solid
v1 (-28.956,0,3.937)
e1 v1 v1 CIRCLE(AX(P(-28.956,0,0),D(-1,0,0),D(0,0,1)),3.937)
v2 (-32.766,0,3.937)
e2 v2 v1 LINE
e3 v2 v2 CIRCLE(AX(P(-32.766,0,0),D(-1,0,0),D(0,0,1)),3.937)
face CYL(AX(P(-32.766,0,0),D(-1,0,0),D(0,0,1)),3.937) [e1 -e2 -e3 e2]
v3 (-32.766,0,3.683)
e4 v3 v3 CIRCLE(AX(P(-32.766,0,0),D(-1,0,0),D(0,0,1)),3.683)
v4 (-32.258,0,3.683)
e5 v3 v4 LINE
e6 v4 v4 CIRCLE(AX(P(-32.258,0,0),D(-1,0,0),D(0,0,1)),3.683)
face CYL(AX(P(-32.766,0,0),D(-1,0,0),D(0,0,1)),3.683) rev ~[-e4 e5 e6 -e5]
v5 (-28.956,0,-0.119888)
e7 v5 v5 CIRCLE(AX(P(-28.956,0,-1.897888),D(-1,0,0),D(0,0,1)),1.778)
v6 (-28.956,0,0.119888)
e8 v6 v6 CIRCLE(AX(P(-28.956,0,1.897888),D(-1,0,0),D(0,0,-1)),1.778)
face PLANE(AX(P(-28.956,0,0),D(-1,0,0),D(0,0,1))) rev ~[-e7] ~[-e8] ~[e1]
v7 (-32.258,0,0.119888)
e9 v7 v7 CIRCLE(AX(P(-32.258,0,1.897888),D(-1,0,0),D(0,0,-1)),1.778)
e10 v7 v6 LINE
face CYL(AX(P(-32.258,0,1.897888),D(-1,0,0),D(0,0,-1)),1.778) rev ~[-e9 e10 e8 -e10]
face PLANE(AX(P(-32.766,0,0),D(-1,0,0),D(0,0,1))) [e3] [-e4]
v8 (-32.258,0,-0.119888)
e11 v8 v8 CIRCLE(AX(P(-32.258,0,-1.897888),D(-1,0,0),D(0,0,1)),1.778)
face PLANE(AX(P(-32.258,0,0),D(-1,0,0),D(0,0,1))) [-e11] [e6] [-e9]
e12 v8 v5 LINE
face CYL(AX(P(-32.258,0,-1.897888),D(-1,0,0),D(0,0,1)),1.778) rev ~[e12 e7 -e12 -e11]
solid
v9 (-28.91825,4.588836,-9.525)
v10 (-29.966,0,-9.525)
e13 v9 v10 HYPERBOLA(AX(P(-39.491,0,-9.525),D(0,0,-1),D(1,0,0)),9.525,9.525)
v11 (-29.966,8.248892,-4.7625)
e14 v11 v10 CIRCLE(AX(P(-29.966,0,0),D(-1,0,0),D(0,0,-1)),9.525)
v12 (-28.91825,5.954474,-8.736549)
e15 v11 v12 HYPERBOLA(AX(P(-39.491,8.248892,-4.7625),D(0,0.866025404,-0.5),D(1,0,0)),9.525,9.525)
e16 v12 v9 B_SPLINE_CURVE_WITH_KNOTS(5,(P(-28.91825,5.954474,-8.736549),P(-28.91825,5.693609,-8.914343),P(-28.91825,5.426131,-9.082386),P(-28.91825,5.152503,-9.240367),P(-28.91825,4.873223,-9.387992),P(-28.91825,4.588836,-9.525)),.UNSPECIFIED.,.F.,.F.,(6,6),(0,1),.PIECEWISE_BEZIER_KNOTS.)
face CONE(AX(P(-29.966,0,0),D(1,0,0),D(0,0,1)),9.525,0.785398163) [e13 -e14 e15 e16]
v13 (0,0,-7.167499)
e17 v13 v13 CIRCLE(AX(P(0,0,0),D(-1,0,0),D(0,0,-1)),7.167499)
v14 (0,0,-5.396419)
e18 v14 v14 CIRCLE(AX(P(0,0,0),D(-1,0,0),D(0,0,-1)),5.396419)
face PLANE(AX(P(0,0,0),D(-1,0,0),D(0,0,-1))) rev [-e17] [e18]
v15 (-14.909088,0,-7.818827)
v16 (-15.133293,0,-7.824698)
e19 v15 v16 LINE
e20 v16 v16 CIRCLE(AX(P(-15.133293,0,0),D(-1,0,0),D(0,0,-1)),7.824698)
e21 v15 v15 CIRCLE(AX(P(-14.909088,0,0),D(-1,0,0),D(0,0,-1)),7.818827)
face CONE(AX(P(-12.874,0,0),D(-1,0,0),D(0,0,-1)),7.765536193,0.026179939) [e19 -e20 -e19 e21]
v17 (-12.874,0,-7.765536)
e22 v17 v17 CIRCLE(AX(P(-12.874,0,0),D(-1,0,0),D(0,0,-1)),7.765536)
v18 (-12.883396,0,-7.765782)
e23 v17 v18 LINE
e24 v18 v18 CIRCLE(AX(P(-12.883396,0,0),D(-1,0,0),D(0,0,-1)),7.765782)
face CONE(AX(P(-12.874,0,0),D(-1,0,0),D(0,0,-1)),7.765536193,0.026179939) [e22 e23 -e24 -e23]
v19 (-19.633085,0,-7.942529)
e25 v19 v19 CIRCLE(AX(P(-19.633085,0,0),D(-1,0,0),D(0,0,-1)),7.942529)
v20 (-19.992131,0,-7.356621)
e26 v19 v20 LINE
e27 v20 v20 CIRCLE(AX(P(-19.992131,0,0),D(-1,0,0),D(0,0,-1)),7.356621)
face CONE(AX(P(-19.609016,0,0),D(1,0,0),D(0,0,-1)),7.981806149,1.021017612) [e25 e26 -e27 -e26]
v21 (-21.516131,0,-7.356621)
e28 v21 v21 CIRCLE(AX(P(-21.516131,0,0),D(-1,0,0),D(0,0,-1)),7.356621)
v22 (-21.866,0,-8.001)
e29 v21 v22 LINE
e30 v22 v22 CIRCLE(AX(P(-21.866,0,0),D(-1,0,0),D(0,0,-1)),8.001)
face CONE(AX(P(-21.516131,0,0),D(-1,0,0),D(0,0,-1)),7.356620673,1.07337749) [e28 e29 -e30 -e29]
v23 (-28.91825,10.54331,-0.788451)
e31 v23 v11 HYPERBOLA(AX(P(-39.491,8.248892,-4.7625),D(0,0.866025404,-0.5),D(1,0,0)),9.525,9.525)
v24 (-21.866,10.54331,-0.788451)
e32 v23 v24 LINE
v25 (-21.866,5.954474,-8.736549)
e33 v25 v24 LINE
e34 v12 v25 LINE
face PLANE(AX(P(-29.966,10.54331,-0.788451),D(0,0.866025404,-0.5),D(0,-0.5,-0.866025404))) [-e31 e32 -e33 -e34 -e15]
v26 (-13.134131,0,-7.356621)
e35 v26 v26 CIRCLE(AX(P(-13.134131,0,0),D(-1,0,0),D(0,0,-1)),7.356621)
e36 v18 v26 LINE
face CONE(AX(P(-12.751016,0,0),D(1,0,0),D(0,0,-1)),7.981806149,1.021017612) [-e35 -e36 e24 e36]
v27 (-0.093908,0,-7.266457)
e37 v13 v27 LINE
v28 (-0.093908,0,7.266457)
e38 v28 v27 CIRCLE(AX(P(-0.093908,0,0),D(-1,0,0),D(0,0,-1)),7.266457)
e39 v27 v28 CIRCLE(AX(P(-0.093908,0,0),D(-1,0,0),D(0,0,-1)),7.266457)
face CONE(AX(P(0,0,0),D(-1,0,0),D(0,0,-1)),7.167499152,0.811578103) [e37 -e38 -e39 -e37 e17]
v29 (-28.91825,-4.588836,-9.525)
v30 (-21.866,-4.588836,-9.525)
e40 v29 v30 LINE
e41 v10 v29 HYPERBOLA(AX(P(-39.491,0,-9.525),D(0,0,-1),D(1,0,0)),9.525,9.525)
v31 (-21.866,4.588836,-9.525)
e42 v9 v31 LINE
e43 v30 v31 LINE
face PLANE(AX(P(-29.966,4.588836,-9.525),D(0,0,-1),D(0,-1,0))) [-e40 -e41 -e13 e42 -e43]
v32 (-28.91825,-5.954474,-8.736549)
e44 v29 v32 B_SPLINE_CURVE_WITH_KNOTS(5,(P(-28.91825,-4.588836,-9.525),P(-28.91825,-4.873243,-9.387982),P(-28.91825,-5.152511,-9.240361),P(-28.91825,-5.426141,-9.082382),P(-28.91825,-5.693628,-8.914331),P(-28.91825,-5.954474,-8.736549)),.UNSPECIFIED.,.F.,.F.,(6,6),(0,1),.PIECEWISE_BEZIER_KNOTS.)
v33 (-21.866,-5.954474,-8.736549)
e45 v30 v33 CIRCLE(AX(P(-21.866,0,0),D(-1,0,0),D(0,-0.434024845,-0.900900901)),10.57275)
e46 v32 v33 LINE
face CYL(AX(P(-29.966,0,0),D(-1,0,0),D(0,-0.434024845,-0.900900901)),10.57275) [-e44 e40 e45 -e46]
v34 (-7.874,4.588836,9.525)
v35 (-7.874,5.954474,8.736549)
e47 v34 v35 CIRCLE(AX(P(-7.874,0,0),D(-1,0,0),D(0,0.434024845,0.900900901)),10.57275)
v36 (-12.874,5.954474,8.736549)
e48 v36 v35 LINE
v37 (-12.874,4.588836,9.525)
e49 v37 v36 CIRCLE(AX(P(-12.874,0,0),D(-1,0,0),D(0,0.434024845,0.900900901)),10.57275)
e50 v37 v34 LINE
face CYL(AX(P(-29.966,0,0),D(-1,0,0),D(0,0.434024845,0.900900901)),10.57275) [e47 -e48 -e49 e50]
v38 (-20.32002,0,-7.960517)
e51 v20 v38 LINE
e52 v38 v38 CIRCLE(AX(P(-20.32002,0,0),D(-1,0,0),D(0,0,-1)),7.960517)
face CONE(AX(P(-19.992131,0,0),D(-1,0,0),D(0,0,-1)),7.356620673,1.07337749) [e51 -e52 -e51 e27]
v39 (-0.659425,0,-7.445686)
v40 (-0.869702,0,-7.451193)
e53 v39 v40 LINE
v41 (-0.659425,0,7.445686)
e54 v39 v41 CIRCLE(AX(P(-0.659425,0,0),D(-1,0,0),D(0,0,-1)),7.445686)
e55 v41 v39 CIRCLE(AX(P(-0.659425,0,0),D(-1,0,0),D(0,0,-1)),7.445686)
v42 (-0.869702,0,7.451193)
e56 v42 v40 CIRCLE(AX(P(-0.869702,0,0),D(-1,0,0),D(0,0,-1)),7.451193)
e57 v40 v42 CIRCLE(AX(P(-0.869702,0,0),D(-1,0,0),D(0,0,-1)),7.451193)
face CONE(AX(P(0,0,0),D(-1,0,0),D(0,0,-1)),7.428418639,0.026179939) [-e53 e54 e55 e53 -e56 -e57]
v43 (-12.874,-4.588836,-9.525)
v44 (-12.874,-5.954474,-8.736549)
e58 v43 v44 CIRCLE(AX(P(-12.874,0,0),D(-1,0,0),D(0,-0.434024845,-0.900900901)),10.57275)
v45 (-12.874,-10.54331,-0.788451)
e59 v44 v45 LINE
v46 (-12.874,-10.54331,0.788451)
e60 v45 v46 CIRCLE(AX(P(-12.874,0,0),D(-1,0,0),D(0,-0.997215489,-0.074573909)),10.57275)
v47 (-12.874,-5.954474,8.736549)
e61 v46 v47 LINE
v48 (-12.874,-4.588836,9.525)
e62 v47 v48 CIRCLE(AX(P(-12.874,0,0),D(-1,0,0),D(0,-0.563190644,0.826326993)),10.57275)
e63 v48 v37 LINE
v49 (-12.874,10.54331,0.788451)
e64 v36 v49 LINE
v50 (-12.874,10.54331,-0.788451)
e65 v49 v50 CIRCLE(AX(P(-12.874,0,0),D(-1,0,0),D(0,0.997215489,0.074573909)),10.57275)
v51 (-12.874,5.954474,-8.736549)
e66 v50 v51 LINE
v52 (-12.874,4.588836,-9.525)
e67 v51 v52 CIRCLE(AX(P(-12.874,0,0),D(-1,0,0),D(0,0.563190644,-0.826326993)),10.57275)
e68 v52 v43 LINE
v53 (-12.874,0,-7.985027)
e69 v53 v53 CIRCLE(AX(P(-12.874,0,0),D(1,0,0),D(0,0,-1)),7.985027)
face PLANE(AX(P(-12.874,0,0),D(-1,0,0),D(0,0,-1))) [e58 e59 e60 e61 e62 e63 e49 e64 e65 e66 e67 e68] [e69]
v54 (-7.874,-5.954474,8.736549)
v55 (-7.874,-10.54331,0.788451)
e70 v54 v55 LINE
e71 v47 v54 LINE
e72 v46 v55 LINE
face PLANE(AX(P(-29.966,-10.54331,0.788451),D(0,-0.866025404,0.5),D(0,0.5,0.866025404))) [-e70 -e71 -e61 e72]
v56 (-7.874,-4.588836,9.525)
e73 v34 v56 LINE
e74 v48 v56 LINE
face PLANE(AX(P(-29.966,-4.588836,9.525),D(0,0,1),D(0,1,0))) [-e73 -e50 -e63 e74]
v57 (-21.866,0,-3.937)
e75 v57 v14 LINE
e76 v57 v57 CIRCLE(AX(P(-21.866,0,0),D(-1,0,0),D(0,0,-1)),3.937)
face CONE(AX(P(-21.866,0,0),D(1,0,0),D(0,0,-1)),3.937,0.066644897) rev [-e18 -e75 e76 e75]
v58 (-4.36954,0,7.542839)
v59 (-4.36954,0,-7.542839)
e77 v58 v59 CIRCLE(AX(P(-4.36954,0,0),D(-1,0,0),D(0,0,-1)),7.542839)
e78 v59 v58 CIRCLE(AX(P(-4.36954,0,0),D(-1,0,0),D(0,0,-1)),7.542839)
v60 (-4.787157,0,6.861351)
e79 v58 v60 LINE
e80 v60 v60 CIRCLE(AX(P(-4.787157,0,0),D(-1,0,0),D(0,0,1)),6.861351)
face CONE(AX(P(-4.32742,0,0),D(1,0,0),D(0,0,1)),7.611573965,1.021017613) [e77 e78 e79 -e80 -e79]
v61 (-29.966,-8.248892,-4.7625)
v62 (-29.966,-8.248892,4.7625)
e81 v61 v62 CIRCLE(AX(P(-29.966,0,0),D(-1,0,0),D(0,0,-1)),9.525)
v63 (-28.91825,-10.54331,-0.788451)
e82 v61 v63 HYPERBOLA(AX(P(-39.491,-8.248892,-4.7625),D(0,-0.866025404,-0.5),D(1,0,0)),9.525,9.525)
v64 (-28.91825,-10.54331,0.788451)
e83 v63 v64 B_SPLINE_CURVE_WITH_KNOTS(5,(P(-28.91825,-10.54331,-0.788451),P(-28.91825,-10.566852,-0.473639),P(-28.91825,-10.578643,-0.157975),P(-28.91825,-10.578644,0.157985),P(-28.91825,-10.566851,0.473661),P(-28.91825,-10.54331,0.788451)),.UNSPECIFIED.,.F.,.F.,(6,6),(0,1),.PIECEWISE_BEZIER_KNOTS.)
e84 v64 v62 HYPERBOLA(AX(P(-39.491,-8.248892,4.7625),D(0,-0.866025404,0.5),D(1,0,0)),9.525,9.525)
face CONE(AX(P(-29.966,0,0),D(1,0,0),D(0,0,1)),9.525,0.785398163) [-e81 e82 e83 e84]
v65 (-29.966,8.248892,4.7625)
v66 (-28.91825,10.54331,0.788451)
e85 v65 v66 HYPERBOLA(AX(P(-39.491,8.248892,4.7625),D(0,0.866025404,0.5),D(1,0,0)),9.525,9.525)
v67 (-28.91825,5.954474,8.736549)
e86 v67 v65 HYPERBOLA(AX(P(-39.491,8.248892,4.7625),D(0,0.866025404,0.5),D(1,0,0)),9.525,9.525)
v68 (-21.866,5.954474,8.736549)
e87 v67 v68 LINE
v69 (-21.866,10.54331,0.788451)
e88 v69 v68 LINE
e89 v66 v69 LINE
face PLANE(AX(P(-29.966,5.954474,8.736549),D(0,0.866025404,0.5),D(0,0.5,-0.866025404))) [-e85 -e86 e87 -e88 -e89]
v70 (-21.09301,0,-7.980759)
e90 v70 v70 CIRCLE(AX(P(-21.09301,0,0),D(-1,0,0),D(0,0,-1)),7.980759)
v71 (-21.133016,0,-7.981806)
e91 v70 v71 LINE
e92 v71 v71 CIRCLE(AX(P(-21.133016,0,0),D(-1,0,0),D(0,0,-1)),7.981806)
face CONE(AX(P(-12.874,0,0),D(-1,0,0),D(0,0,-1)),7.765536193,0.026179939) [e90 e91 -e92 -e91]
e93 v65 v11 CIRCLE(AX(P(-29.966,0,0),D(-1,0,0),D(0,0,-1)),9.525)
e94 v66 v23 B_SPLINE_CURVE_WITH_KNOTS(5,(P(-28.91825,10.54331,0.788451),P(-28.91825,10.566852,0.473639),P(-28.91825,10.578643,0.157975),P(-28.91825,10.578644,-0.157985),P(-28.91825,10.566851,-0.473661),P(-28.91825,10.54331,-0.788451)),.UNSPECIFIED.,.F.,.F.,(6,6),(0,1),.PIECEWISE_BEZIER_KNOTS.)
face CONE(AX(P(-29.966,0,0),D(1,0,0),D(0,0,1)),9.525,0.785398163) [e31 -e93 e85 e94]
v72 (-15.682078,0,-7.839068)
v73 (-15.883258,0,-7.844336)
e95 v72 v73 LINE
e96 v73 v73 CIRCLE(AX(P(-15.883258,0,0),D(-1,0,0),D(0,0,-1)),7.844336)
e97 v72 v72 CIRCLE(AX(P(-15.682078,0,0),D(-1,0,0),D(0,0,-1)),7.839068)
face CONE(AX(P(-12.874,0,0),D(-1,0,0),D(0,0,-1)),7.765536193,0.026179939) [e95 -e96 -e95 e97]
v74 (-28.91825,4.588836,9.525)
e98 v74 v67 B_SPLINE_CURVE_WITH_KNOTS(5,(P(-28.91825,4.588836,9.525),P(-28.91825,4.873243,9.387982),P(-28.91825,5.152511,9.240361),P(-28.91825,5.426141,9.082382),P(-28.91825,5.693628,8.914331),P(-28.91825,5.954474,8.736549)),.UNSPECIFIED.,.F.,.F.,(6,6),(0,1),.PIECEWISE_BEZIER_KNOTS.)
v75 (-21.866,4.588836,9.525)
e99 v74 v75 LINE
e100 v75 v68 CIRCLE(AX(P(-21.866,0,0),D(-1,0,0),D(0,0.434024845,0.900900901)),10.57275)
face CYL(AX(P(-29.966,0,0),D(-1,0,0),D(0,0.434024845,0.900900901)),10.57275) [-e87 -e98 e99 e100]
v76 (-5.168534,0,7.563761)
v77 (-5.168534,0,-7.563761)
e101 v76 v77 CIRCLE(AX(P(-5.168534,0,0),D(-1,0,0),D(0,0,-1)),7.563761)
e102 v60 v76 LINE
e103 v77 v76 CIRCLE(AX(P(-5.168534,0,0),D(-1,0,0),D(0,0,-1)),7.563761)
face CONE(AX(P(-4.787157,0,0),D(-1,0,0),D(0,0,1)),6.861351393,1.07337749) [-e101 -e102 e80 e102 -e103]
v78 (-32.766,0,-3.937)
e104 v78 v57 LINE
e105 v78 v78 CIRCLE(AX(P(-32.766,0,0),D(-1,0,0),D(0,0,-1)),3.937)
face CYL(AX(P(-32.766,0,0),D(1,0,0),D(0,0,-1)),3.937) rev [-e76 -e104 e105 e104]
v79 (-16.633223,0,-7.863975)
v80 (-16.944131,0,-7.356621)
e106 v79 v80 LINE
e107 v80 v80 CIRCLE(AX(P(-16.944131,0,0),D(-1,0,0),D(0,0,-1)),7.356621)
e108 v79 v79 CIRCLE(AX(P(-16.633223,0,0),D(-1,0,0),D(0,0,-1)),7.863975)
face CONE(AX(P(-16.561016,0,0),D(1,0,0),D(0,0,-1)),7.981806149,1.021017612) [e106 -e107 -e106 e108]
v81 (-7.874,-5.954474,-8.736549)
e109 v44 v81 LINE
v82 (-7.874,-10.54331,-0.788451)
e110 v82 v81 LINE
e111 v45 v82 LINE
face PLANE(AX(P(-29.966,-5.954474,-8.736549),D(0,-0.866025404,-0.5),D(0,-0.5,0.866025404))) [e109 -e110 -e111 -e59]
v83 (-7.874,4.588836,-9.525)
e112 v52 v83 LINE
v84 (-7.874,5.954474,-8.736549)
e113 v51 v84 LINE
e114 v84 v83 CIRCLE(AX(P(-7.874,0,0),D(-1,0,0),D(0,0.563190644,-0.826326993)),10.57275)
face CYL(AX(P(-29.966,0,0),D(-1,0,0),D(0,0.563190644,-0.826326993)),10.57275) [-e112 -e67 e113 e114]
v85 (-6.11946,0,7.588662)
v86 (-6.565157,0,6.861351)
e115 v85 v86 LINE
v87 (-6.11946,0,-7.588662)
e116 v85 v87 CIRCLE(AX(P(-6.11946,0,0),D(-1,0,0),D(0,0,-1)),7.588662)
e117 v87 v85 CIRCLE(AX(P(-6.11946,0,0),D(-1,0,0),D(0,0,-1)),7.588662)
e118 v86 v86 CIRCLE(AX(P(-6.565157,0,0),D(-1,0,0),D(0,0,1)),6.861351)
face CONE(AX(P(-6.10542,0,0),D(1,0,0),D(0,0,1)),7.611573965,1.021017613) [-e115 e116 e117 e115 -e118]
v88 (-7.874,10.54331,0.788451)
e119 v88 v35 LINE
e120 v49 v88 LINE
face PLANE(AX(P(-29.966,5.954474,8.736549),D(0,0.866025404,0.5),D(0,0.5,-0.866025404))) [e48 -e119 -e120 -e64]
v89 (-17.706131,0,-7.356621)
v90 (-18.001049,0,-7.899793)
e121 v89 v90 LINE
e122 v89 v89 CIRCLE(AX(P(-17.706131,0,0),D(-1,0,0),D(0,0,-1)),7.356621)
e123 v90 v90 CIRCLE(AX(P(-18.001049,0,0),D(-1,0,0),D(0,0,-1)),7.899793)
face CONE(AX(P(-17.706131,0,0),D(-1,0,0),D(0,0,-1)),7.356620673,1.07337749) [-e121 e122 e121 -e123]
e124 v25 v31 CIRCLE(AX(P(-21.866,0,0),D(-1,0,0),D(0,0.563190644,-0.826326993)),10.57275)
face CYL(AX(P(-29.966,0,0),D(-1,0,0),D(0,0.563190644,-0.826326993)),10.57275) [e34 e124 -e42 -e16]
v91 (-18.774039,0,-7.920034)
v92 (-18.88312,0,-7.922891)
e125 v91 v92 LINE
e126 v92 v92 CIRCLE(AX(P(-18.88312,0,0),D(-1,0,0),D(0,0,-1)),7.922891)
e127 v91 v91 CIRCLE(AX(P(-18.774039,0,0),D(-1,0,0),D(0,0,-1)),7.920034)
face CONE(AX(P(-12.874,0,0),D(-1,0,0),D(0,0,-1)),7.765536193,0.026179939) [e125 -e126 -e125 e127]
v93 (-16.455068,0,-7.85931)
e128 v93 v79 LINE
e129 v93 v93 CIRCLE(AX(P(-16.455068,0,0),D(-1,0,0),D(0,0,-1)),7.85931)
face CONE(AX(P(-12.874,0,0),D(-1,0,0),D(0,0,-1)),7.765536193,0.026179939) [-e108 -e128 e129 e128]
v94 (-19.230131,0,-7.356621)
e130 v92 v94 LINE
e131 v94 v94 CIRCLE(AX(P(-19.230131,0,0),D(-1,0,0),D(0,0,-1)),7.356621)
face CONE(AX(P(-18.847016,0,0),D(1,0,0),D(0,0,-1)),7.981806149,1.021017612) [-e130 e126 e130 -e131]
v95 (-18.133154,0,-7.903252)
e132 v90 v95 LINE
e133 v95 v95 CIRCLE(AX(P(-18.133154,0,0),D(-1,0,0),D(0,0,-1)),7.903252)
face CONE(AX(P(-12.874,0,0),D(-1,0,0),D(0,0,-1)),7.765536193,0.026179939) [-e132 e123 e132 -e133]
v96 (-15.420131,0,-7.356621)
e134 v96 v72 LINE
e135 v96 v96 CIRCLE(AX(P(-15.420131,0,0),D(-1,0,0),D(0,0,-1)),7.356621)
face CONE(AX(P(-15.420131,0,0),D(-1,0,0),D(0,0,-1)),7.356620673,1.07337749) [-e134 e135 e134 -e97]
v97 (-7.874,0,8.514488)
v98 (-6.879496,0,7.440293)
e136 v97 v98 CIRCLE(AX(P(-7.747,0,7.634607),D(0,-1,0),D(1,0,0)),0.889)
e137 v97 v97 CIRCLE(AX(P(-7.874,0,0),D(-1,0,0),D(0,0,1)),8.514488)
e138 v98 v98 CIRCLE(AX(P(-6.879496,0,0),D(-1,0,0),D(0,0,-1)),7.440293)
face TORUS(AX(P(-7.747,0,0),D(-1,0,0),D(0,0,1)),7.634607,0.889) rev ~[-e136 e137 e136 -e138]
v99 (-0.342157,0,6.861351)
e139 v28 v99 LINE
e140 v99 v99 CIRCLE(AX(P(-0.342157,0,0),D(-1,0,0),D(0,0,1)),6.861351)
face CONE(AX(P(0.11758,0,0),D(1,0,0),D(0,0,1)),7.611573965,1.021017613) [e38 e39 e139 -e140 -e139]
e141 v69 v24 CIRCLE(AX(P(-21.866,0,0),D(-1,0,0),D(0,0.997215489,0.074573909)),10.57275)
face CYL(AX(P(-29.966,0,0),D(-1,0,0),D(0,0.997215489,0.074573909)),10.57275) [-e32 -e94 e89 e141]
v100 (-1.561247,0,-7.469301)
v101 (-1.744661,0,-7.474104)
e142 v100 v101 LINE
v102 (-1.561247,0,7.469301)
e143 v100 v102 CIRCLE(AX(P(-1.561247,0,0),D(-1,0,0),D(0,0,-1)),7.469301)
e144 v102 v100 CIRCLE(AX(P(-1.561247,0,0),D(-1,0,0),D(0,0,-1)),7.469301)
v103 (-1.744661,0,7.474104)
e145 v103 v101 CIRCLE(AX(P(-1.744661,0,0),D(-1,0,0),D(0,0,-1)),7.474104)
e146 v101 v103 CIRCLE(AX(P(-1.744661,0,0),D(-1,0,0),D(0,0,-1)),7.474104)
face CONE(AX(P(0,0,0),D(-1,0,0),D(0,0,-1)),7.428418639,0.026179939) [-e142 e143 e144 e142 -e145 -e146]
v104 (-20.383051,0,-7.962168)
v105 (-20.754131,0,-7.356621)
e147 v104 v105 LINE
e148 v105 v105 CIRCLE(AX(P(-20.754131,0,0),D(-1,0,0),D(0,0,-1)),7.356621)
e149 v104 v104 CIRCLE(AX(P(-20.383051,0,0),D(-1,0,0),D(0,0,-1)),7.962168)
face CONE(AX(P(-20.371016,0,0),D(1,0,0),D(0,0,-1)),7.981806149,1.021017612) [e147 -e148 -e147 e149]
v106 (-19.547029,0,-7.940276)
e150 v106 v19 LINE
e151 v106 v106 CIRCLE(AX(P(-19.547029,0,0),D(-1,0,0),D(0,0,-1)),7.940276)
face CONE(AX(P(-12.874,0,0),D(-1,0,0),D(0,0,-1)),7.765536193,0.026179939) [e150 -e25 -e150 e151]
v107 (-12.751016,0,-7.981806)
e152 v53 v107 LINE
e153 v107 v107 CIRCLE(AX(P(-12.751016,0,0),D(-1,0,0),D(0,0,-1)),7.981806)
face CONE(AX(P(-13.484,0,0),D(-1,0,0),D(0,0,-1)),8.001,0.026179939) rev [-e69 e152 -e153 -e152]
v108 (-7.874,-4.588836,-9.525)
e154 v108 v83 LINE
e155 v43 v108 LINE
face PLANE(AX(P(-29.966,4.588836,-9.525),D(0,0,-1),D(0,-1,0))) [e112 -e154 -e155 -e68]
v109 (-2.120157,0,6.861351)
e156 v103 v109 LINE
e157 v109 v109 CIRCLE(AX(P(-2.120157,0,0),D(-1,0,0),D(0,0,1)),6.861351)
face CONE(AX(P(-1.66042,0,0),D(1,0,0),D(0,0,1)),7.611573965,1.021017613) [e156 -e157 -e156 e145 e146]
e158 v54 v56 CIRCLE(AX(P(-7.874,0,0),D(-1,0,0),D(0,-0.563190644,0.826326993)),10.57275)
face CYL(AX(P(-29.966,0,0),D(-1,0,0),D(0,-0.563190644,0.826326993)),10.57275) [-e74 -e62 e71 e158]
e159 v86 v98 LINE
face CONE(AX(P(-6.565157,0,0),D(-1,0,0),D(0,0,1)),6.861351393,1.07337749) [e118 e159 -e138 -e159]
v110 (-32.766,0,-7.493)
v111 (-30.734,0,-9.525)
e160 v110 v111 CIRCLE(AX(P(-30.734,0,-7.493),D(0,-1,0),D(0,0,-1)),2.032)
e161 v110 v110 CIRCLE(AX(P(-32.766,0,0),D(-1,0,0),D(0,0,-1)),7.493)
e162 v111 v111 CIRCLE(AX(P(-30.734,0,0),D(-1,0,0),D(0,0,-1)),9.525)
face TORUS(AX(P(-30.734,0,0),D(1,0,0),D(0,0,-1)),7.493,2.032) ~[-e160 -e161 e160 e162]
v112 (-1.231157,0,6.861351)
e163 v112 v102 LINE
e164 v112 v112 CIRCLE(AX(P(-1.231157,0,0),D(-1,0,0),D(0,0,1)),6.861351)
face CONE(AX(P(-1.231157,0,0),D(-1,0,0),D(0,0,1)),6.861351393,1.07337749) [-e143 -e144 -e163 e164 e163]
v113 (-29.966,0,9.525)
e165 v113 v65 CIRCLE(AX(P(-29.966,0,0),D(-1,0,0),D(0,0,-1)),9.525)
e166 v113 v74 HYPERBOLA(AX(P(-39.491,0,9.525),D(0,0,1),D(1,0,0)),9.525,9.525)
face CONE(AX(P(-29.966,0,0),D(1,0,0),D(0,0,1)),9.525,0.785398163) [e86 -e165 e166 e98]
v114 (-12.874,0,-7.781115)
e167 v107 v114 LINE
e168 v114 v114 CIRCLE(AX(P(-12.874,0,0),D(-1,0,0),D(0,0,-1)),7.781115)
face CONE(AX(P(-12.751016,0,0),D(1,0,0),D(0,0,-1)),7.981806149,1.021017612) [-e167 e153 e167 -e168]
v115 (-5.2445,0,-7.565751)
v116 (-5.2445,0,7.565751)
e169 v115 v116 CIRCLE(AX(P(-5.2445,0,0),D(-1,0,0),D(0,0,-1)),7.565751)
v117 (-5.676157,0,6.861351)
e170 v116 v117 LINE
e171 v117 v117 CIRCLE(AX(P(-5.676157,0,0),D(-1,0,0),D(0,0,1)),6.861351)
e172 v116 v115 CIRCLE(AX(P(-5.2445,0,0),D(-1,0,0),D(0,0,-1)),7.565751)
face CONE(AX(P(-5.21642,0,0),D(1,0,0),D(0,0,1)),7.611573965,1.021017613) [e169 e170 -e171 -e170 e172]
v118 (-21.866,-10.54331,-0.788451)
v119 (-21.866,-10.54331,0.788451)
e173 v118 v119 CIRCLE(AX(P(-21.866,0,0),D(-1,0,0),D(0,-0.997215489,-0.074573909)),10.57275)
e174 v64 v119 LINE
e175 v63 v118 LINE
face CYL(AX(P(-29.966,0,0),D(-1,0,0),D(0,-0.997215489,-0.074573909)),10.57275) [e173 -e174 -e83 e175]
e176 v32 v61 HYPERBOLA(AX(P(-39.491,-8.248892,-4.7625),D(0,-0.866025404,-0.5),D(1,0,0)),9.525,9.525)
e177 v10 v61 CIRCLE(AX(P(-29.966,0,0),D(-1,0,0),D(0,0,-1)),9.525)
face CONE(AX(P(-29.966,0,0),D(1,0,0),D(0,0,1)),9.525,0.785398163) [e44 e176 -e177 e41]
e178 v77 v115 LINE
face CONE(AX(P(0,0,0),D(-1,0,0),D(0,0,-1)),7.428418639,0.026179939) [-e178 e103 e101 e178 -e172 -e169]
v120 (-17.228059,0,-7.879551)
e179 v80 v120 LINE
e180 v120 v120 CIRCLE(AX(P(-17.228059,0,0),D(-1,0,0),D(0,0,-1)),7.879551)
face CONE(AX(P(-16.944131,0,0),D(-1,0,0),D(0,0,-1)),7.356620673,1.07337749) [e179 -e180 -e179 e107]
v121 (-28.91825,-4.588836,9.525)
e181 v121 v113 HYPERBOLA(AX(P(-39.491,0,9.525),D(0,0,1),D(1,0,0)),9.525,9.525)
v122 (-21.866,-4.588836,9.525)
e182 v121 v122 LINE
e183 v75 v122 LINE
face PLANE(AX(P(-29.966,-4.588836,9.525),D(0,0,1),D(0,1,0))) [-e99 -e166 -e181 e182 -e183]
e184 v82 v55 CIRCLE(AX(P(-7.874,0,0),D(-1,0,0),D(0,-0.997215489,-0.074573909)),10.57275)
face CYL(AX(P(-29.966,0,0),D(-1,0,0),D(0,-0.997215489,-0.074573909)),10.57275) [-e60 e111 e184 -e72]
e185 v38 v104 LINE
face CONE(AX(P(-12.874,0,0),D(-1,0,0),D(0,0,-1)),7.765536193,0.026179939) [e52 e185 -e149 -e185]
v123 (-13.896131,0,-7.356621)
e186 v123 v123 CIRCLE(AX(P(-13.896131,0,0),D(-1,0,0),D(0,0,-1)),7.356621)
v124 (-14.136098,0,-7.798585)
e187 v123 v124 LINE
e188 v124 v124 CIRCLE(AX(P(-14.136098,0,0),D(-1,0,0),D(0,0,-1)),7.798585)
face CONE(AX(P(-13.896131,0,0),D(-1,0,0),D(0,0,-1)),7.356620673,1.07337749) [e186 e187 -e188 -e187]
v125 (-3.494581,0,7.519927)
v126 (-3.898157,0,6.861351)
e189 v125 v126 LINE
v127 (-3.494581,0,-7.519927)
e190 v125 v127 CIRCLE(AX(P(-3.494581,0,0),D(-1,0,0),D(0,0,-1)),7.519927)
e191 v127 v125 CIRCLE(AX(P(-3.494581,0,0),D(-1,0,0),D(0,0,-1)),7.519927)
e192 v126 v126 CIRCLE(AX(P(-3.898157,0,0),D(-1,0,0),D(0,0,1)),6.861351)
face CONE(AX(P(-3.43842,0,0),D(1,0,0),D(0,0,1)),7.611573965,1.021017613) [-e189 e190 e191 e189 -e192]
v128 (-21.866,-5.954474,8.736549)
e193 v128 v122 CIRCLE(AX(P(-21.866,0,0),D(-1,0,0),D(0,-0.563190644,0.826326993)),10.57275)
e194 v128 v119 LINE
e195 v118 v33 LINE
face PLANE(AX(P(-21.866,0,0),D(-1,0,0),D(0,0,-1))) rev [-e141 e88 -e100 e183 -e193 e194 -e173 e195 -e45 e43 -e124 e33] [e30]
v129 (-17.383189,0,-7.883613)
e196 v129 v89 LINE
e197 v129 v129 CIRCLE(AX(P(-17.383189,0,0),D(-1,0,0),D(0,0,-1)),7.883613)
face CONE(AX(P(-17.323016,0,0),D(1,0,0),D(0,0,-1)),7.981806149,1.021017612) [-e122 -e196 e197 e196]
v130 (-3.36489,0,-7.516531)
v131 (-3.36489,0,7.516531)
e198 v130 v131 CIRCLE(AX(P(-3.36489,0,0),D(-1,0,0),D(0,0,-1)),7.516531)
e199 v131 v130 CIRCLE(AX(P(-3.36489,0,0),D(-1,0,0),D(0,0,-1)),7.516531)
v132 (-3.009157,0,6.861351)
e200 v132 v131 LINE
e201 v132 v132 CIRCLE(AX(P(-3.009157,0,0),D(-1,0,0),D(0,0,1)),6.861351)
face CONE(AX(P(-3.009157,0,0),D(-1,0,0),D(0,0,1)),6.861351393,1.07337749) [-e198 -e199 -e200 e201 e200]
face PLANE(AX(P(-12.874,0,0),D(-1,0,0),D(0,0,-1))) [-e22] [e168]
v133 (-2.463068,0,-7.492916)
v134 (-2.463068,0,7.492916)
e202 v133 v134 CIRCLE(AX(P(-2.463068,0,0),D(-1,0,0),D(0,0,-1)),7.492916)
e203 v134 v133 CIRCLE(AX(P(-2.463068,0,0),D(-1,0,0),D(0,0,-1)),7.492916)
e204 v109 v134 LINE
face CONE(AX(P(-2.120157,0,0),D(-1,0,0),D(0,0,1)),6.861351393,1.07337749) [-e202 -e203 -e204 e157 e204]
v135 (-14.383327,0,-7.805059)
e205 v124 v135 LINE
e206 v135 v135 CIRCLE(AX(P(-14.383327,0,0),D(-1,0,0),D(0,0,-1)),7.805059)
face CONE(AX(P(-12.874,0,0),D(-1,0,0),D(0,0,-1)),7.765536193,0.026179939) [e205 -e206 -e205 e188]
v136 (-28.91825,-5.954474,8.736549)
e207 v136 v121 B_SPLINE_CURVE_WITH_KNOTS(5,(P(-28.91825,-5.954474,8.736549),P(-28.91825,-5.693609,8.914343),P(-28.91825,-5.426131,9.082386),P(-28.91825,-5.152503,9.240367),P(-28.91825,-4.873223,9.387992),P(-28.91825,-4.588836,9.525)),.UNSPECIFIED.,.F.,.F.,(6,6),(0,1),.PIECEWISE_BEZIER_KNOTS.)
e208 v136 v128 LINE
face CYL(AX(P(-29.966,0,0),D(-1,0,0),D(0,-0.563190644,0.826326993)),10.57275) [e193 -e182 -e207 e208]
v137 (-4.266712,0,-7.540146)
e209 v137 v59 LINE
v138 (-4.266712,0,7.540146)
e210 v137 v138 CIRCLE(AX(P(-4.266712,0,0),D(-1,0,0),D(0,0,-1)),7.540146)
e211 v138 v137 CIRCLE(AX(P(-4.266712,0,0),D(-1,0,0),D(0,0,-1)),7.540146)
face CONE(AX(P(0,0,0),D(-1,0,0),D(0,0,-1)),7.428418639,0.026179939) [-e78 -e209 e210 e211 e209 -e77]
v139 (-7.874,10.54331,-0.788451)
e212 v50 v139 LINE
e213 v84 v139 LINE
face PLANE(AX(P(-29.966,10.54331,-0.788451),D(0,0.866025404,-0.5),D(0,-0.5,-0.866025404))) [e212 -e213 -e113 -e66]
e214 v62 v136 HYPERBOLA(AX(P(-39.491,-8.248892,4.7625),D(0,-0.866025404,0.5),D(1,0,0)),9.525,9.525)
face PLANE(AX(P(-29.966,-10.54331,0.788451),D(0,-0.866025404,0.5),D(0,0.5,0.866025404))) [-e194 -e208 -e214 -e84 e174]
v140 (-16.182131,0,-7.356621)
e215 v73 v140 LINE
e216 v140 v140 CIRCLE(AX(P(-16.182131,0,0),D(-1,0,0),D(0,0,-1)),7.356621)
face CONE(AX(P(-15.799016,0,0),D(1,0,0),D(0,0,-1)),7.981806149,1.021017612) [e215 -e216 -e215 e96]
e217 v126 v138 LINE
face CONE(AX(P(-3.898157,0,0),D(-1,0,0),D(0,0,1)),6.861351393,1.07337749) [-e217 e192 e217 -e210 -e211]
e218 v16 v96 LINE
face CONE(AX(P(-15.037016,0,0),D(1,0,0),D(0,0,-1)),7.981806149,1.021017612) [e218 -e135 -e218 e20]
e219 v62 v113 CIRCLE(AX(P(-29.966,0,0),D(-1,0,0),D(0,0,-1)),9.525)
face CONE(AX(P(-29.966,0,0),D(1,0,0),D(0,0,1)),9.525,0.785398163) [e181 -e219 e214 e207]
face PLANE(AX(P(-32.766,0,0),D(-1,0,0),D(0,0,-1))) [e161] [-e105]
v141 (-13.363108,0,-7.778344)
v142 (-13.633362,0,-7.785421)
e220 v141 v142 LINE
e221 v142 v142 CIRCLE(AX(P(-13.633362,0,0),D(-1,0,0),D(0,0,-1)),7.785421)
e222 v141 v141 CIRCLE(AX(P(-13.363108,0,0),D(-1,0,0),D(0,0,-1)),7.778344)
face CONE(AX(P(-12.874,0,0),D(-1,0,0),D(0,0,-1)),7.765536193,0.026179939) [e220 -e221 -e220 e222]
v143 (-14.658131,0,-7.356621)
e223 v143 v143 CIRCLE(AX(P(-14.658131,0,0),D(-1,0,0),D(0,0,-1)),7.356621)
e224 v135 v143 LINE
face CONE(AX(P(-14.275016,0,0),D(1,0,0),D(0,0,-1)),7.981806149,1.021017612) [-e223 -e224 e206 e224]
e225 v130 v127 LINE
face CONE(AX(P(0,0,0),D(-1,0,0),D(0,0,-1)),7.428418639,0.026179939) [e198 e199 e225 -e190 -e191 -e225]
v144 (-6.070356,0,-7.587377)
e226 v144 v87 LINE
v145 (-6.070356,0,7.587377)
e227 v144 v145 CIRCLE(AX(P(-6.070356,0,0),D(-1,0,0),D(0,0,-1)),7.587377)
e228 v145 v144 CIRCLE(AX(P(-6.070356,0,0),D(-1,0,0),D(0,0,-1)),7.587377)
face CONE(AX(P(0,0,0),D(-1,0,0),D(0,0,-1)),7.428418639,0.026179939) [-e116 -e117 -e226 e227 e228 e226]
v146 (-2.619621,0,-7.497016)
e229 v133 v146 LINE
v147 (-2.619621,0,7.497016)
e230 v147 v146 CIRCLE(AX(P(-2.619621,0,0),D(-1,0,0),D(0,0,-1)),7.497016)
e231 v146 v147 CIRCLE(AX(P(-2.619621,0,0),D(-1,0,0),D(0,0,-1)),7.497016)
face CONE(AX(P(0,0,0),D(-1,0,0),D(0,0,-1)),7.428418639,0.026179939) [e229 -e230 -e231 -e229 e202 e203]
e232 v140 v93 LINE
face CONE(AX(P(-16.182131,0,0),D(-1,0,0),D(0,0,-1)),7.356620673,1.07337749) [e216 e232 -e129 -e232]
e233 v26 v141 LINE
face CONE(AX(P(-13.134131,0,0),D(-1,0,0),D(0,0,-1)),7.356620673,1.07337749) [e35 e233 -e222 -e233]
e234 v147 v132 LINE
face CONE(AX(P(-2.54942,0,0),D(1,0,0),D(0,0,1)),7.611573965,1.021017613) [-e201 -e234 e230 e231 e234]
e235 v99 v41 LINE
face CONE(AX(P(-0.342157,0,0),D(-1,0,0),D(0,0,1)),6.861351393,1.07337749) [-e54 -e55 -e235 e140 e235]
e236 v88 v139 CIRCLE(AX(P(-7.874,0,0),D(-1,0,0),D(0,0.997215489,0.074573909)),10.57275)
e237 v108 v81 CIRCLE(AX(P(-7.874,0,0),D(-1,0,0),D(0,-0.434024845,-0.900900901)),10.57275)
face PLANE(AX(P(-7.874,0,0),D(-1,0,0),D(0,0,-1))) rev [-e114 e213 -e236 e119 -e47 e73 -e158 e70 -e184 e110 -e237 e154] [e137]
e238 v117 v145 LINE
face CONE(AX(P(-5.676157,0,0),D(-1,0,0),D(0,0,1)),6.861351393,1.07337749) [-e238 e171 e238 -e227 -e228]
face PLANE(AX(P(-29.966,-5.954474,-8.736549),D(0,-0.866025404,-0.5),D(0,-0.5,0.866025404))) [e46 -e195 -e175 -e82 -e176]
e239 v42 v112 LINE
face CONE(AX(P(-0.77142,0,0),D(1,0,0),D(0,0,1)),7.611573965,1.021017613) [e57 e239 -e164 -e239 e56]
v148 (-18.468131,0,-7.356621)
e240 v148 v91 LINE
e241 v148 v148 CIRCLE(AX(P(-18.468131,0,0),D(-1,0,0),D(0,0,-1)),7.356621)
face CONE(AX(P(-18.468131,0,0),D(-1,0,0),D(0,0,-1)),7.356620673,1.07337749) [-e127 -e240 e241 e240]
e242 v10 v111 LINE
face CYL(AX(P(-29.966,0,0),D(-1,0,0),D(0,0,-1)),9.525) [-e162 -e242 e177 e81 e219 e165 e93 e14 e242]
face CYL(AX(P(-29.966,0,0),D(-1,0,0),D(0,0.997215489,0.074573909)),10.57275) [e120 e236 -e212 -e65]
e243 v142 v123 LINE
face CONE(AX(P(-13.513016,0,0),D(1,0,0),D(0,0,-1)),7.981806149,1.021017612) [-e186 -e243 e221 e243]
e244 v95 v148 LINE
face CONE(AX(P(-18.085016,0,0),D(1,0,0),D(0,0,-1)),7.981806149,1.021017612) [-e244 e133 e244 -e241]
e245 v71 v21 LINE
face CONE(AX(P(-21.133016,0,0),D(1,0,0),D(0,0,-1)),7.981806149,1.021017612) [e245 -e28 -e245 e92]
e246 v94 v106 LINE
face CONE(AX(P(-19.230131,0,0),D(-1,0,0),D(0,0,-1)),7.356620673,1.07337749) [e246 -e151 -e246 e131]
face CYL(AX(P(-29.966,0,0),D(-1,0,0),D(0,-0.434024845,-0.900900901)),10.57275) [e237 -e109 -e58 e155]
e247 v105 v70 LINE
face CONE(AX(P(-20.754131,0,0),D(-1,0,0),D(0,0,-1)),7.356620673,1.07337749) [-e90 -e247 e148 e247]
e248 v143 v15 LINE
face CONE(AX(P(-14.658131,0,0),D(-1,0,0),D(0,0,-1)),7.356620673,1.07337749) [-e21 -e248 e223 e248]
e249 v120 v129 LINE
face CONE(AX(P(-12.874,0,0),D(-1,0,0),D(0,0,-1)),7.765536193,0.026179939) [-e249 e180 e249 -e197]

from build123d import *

# Parameters (mm, degrees)
SKETCH12_OUTSIDE_W = 52.712
SKETCH12_OUTSIDE_H = 52.712
CUT_EXTRUDE2_DEPTH = 30.966
FILLET4_R          = 2.032
SKETCH19_OUTSIDE_W = 33.73
SKETCH19_OUTSIDE_H = 35.826
SKETCH19_OUTSIDE_R = 9.525
CUT_EXTRUDE3_DEPTH = 1.999996
CUT_EXTRUDE3_DRAFT = -45
CHAMFER1_SIZE      = 0.260919487
CHAMFER1_SIZE2     = 0.254
SKETCH21_R         = 3.937
PLUG_DEPTH         = 3.81
SKETCH22_R         = 3.683
CUT_EXTRUDE4_DEPTH = 0.508
SKETCH27_R         = 1.778
PLUGHOLES_DEPTH    = 33.258
CIRPATTERN1_COUNT  = 2
LPATTERN1_COUNT    = 12
LPATTERN1_PITCH    = 0.762
LPATTERN2_COUNT    = 9
LPATTERN2_PITCH    = 0.889
SKETCH32_R         = 0.889


with BuildPart() as part:
    # Sketch10 → Revolve2 (revolve)
    with BuildSketch(Plane.XY, mode=Mode.PRIVATE) as revolve2_sk:
        Polygon((-32.766, 3.937), (-21.866, 3.937), (0, 5.396418639), (0, 7.428418639), (-7.874, 7.634606585), (-7.874, 19.05), (-12.874, 19.05), (-12.874, 7.765536193), (-21.866, 8.001), (-21.866, 19.05), (-29.966, 19.05), (-29.966, 9.525), (-32.766, 9.525), align=None)
    revolve(revolve2_sk.sketch.rotate(Axis((0, 0, 0), (-1, 0, 0)), 90), axis=Axis((0, 0, 0), (-1, 0, 0)))  # turned: the seam where the file's is

    # Sketch12 outside → Cut-Extrude2 (cut, through all)
    with BuildSketch(Plane.ZY.offset(29.966)):
        Rectangle(SKETCH12_OUTSIDE_W, SKETCH12_OUTSIDE_H)
        with BuildLine():
            Line((-0.788451287, 10.543310065), (-8.736548713, 5.954473877))
            ThreePointArc((-8.736548713, 5.954473877), (-9.156270088, 5.286375), (-9.525, 4.588836188))
            Line((-9.525, 4.588836188), (-9.525, -4.588836188))
            ThreePointArc((-9.525, -4.588836188), (-9.156270088, -5.286375), (-8.736548713, -5.954473877))
            Line((-8.736548713, -5.954473877), (-0.788451287, -10.543310065))
            ThreePointArc((-0.788451287, -10.543310065), (0, -10.57275), (0.788451287, -10.543310065))
            Line((0.788451287, -10.543310065), (8.736548713, -5.954473877))
            ThreePointArc((8.736548713, -5.954473877), (9.156270088, -5.286375), (9.525, -4.588836188))
            Line((9.525, -4.588836188), (9.525, 4.588836188))
            ThreePointArc((9.525, 4.588836188), (9.156270088, 5.286375), (8.736548713, 5.954473877))
            Line((8.736548713, 5.954473877), (0.788451287, 10.543310065))
            ThreePointArc((0.788451287, 10.543310065), (0, 10.57275), (-0.788451287, 10.543310065))
        make_face(mode=Mode.SUBTRACT)
    extrude(amount=-CUT_EXTRUDE2_DEPTH, mode=Mode.SUBTRACT)

    # Fillet4
    fillet4_edges = [part.edges().sort_by_distance(p)[0] for p in [
        (-32.766, 0, 9.525),
    ]]
    fillet(fillet4_edges, radius=FILLET4_R)


with BuildPart() as cut_extrude3_tool:
    # Sketch19 outside → Cut-Extrude3 (with draft: the straight prism first)
    with BuildSketch(Plane.ZY.offset(29.966)):
        Rectangle(SKETCH19_OUTSIDE_W, SKETCH19_OUTSIDE_H)
        Circle(SKETCH19_OUTSIDE_R, mode=Mode.SUBTRACT)
    extrude(amount=-CUT_EXTRUDE3_DEPTH)
    # Cut-Extrude3: the draft: its side faces are tilted about the plane it starts from
    cut_extrude3_sides = [cut_extrude3_tool.faces().sort_by_distance(p)[0] for p in [
        (-28.966002, -17.913, 0),
        (-28.966002, 0, 16.865),
        (-28.966002, 17.913, 0),
        (-28.966002, 0, -16.865),
        (-28.966002, 0, -9.525),
    ]]
    draft(cut_extrude3_sides, Plane.ZY.offset(29.966), CUT_EXTRUDE3_DRAFT)


with BuildPart() as part_1:
    add(part.part)

    # Cut-Extrude3: cut by cut_extrude3_tool
    add(cut_extrude3_tool.part, mode=Mode.SUBTRACT)

    # Chamfer1
    chamfer1_edges = [part_1.edges().sort_by_distance(p)[0] for p in [
        (0, 0, 7.428418639),
    ]]
    chamfer1_side = [part_1.faces().sort_by_distance(p)[0] for p in [
        (0, 0, 5.606526047),
    ]]
    chamfer(chamfer1_edges, length=CHAMFER1_SIZE, length2=CHAMFER1_SIZE2, reference=chamfer1_side[0])

    # Sketch29 → Cut-Revolve1 (revolve, cut)
    with BuildSketch(Plane.XY, mode=Mode.PRIVATE) as cut_revolve1_sk:
        Polygon((-21.866, 8.001), (-21.133016419, 7.981806149), (-21.516130572, 7.356620673), align=None)
    cut_revolve1 = revolve(cut_revolve1_sk.sketch.rotate(Axis((0, 0, 0), (-1, 0, 0)), 90), axis=Axis((0, 0, 0), (-1, 0, 0)), mode=Mode.SUBTRACT)  # turned: the seam where the file's is

    # LPattern1: Cut-Revolve1 ×12
    with Locations(*[(i * LPATTERN1_PITCH, 0, 0) for i in range(1, LPATTERN1_COUNT)]):
        add(cut_revolve1, mode=Mode.SUBTRACT)

    # Sketch30 → Cut-Revolve2 (revolve, cut)
    with BuildSketch(Plane.XY, mode=Mode.PRIVATE) as cut_revolve2_sk:
        Polygon((-7.874, 7.634606585), (-6.994419703, 7.611573965), (-7.454156686, 6.861351393), align=None)
    cut_revolve2 = revolve(cut_revolve2_sk.sketch.rotate(Axis((0, 0, 0), (-1, 0, 0)), 270), axis=Axis((0, 0, 0), (-1, 0, 0)), mode=Mode.SUBTRACT)  # turned: the seam where the file's is

    # LPattern2: Cut-Revolve2 ×9
    with Locations(*[(i * LPATTERN2_PITCH, 0, 0) for i in range(1, LPATTERN2_COUNT)]):
        add(cut_revolve2, mode=Mode.SUBTRACT)

    # Sketch32 → Cut-Revolve3 (revolve, cut)
    with BuildSketch(Plane.XY, mode=Mode.PRIVATE) as cut_revolve3_sk:
        with Locations((-7.747, 7.634606585)):
            Circle(SKETCH32_R)
    revolve(cut_revolve3_sk.sketch.rotate(Axis((0, 0, 0), (-1, 0, 0)), 270), axis=Axis((0, 0, 0), (-1, 0, 0)), mode=Mode.SUBTRACT)  # turned: the seam where the file's is


with BuildPart() as body_2:
    # Sketch21 → plug (new body)
    with BuildSketch(Plane.ZY.offset(32.766)):
        Circle(SKETCH21_R)
    extrude(amount=-PLUG_DEPTH)

    # Sketch22 → Cut-Extrude4 (cut)
    with BuildSketch(Plane.ZY.offset(32.766)):
        Circle(SKETCH22_R)
    extrude(amount=-CUT_EXTRUDE4_DEPTH, mode=Mode.SUBTRACT)

    # Sketch27 → plugholes (cut, through all)
    with BuildSketch(Plane.ZY.offset(32.258)):
        with Locations((-1.897888, 0)):
            Circle(SKETCH27_R)
    plugholes = extrude(amount=-PLUGHOLES_DEPTH, mode=Mode.SUBTRACT)

    # CirPattern1: plugholes ×2 about axis
    cirpattern1_axis = Axis((0, 0, 0), (1, 0, 0))
    for i in range(1, CIRPATTERN1_COUNT):
        add(plugholes.rotate(cirpattern1_axis, i * 360 / CIRPATTERN1_COUNT), mode=Mode.SUBTRACT)


solid = Compound([part_1.part, body_2.part])
